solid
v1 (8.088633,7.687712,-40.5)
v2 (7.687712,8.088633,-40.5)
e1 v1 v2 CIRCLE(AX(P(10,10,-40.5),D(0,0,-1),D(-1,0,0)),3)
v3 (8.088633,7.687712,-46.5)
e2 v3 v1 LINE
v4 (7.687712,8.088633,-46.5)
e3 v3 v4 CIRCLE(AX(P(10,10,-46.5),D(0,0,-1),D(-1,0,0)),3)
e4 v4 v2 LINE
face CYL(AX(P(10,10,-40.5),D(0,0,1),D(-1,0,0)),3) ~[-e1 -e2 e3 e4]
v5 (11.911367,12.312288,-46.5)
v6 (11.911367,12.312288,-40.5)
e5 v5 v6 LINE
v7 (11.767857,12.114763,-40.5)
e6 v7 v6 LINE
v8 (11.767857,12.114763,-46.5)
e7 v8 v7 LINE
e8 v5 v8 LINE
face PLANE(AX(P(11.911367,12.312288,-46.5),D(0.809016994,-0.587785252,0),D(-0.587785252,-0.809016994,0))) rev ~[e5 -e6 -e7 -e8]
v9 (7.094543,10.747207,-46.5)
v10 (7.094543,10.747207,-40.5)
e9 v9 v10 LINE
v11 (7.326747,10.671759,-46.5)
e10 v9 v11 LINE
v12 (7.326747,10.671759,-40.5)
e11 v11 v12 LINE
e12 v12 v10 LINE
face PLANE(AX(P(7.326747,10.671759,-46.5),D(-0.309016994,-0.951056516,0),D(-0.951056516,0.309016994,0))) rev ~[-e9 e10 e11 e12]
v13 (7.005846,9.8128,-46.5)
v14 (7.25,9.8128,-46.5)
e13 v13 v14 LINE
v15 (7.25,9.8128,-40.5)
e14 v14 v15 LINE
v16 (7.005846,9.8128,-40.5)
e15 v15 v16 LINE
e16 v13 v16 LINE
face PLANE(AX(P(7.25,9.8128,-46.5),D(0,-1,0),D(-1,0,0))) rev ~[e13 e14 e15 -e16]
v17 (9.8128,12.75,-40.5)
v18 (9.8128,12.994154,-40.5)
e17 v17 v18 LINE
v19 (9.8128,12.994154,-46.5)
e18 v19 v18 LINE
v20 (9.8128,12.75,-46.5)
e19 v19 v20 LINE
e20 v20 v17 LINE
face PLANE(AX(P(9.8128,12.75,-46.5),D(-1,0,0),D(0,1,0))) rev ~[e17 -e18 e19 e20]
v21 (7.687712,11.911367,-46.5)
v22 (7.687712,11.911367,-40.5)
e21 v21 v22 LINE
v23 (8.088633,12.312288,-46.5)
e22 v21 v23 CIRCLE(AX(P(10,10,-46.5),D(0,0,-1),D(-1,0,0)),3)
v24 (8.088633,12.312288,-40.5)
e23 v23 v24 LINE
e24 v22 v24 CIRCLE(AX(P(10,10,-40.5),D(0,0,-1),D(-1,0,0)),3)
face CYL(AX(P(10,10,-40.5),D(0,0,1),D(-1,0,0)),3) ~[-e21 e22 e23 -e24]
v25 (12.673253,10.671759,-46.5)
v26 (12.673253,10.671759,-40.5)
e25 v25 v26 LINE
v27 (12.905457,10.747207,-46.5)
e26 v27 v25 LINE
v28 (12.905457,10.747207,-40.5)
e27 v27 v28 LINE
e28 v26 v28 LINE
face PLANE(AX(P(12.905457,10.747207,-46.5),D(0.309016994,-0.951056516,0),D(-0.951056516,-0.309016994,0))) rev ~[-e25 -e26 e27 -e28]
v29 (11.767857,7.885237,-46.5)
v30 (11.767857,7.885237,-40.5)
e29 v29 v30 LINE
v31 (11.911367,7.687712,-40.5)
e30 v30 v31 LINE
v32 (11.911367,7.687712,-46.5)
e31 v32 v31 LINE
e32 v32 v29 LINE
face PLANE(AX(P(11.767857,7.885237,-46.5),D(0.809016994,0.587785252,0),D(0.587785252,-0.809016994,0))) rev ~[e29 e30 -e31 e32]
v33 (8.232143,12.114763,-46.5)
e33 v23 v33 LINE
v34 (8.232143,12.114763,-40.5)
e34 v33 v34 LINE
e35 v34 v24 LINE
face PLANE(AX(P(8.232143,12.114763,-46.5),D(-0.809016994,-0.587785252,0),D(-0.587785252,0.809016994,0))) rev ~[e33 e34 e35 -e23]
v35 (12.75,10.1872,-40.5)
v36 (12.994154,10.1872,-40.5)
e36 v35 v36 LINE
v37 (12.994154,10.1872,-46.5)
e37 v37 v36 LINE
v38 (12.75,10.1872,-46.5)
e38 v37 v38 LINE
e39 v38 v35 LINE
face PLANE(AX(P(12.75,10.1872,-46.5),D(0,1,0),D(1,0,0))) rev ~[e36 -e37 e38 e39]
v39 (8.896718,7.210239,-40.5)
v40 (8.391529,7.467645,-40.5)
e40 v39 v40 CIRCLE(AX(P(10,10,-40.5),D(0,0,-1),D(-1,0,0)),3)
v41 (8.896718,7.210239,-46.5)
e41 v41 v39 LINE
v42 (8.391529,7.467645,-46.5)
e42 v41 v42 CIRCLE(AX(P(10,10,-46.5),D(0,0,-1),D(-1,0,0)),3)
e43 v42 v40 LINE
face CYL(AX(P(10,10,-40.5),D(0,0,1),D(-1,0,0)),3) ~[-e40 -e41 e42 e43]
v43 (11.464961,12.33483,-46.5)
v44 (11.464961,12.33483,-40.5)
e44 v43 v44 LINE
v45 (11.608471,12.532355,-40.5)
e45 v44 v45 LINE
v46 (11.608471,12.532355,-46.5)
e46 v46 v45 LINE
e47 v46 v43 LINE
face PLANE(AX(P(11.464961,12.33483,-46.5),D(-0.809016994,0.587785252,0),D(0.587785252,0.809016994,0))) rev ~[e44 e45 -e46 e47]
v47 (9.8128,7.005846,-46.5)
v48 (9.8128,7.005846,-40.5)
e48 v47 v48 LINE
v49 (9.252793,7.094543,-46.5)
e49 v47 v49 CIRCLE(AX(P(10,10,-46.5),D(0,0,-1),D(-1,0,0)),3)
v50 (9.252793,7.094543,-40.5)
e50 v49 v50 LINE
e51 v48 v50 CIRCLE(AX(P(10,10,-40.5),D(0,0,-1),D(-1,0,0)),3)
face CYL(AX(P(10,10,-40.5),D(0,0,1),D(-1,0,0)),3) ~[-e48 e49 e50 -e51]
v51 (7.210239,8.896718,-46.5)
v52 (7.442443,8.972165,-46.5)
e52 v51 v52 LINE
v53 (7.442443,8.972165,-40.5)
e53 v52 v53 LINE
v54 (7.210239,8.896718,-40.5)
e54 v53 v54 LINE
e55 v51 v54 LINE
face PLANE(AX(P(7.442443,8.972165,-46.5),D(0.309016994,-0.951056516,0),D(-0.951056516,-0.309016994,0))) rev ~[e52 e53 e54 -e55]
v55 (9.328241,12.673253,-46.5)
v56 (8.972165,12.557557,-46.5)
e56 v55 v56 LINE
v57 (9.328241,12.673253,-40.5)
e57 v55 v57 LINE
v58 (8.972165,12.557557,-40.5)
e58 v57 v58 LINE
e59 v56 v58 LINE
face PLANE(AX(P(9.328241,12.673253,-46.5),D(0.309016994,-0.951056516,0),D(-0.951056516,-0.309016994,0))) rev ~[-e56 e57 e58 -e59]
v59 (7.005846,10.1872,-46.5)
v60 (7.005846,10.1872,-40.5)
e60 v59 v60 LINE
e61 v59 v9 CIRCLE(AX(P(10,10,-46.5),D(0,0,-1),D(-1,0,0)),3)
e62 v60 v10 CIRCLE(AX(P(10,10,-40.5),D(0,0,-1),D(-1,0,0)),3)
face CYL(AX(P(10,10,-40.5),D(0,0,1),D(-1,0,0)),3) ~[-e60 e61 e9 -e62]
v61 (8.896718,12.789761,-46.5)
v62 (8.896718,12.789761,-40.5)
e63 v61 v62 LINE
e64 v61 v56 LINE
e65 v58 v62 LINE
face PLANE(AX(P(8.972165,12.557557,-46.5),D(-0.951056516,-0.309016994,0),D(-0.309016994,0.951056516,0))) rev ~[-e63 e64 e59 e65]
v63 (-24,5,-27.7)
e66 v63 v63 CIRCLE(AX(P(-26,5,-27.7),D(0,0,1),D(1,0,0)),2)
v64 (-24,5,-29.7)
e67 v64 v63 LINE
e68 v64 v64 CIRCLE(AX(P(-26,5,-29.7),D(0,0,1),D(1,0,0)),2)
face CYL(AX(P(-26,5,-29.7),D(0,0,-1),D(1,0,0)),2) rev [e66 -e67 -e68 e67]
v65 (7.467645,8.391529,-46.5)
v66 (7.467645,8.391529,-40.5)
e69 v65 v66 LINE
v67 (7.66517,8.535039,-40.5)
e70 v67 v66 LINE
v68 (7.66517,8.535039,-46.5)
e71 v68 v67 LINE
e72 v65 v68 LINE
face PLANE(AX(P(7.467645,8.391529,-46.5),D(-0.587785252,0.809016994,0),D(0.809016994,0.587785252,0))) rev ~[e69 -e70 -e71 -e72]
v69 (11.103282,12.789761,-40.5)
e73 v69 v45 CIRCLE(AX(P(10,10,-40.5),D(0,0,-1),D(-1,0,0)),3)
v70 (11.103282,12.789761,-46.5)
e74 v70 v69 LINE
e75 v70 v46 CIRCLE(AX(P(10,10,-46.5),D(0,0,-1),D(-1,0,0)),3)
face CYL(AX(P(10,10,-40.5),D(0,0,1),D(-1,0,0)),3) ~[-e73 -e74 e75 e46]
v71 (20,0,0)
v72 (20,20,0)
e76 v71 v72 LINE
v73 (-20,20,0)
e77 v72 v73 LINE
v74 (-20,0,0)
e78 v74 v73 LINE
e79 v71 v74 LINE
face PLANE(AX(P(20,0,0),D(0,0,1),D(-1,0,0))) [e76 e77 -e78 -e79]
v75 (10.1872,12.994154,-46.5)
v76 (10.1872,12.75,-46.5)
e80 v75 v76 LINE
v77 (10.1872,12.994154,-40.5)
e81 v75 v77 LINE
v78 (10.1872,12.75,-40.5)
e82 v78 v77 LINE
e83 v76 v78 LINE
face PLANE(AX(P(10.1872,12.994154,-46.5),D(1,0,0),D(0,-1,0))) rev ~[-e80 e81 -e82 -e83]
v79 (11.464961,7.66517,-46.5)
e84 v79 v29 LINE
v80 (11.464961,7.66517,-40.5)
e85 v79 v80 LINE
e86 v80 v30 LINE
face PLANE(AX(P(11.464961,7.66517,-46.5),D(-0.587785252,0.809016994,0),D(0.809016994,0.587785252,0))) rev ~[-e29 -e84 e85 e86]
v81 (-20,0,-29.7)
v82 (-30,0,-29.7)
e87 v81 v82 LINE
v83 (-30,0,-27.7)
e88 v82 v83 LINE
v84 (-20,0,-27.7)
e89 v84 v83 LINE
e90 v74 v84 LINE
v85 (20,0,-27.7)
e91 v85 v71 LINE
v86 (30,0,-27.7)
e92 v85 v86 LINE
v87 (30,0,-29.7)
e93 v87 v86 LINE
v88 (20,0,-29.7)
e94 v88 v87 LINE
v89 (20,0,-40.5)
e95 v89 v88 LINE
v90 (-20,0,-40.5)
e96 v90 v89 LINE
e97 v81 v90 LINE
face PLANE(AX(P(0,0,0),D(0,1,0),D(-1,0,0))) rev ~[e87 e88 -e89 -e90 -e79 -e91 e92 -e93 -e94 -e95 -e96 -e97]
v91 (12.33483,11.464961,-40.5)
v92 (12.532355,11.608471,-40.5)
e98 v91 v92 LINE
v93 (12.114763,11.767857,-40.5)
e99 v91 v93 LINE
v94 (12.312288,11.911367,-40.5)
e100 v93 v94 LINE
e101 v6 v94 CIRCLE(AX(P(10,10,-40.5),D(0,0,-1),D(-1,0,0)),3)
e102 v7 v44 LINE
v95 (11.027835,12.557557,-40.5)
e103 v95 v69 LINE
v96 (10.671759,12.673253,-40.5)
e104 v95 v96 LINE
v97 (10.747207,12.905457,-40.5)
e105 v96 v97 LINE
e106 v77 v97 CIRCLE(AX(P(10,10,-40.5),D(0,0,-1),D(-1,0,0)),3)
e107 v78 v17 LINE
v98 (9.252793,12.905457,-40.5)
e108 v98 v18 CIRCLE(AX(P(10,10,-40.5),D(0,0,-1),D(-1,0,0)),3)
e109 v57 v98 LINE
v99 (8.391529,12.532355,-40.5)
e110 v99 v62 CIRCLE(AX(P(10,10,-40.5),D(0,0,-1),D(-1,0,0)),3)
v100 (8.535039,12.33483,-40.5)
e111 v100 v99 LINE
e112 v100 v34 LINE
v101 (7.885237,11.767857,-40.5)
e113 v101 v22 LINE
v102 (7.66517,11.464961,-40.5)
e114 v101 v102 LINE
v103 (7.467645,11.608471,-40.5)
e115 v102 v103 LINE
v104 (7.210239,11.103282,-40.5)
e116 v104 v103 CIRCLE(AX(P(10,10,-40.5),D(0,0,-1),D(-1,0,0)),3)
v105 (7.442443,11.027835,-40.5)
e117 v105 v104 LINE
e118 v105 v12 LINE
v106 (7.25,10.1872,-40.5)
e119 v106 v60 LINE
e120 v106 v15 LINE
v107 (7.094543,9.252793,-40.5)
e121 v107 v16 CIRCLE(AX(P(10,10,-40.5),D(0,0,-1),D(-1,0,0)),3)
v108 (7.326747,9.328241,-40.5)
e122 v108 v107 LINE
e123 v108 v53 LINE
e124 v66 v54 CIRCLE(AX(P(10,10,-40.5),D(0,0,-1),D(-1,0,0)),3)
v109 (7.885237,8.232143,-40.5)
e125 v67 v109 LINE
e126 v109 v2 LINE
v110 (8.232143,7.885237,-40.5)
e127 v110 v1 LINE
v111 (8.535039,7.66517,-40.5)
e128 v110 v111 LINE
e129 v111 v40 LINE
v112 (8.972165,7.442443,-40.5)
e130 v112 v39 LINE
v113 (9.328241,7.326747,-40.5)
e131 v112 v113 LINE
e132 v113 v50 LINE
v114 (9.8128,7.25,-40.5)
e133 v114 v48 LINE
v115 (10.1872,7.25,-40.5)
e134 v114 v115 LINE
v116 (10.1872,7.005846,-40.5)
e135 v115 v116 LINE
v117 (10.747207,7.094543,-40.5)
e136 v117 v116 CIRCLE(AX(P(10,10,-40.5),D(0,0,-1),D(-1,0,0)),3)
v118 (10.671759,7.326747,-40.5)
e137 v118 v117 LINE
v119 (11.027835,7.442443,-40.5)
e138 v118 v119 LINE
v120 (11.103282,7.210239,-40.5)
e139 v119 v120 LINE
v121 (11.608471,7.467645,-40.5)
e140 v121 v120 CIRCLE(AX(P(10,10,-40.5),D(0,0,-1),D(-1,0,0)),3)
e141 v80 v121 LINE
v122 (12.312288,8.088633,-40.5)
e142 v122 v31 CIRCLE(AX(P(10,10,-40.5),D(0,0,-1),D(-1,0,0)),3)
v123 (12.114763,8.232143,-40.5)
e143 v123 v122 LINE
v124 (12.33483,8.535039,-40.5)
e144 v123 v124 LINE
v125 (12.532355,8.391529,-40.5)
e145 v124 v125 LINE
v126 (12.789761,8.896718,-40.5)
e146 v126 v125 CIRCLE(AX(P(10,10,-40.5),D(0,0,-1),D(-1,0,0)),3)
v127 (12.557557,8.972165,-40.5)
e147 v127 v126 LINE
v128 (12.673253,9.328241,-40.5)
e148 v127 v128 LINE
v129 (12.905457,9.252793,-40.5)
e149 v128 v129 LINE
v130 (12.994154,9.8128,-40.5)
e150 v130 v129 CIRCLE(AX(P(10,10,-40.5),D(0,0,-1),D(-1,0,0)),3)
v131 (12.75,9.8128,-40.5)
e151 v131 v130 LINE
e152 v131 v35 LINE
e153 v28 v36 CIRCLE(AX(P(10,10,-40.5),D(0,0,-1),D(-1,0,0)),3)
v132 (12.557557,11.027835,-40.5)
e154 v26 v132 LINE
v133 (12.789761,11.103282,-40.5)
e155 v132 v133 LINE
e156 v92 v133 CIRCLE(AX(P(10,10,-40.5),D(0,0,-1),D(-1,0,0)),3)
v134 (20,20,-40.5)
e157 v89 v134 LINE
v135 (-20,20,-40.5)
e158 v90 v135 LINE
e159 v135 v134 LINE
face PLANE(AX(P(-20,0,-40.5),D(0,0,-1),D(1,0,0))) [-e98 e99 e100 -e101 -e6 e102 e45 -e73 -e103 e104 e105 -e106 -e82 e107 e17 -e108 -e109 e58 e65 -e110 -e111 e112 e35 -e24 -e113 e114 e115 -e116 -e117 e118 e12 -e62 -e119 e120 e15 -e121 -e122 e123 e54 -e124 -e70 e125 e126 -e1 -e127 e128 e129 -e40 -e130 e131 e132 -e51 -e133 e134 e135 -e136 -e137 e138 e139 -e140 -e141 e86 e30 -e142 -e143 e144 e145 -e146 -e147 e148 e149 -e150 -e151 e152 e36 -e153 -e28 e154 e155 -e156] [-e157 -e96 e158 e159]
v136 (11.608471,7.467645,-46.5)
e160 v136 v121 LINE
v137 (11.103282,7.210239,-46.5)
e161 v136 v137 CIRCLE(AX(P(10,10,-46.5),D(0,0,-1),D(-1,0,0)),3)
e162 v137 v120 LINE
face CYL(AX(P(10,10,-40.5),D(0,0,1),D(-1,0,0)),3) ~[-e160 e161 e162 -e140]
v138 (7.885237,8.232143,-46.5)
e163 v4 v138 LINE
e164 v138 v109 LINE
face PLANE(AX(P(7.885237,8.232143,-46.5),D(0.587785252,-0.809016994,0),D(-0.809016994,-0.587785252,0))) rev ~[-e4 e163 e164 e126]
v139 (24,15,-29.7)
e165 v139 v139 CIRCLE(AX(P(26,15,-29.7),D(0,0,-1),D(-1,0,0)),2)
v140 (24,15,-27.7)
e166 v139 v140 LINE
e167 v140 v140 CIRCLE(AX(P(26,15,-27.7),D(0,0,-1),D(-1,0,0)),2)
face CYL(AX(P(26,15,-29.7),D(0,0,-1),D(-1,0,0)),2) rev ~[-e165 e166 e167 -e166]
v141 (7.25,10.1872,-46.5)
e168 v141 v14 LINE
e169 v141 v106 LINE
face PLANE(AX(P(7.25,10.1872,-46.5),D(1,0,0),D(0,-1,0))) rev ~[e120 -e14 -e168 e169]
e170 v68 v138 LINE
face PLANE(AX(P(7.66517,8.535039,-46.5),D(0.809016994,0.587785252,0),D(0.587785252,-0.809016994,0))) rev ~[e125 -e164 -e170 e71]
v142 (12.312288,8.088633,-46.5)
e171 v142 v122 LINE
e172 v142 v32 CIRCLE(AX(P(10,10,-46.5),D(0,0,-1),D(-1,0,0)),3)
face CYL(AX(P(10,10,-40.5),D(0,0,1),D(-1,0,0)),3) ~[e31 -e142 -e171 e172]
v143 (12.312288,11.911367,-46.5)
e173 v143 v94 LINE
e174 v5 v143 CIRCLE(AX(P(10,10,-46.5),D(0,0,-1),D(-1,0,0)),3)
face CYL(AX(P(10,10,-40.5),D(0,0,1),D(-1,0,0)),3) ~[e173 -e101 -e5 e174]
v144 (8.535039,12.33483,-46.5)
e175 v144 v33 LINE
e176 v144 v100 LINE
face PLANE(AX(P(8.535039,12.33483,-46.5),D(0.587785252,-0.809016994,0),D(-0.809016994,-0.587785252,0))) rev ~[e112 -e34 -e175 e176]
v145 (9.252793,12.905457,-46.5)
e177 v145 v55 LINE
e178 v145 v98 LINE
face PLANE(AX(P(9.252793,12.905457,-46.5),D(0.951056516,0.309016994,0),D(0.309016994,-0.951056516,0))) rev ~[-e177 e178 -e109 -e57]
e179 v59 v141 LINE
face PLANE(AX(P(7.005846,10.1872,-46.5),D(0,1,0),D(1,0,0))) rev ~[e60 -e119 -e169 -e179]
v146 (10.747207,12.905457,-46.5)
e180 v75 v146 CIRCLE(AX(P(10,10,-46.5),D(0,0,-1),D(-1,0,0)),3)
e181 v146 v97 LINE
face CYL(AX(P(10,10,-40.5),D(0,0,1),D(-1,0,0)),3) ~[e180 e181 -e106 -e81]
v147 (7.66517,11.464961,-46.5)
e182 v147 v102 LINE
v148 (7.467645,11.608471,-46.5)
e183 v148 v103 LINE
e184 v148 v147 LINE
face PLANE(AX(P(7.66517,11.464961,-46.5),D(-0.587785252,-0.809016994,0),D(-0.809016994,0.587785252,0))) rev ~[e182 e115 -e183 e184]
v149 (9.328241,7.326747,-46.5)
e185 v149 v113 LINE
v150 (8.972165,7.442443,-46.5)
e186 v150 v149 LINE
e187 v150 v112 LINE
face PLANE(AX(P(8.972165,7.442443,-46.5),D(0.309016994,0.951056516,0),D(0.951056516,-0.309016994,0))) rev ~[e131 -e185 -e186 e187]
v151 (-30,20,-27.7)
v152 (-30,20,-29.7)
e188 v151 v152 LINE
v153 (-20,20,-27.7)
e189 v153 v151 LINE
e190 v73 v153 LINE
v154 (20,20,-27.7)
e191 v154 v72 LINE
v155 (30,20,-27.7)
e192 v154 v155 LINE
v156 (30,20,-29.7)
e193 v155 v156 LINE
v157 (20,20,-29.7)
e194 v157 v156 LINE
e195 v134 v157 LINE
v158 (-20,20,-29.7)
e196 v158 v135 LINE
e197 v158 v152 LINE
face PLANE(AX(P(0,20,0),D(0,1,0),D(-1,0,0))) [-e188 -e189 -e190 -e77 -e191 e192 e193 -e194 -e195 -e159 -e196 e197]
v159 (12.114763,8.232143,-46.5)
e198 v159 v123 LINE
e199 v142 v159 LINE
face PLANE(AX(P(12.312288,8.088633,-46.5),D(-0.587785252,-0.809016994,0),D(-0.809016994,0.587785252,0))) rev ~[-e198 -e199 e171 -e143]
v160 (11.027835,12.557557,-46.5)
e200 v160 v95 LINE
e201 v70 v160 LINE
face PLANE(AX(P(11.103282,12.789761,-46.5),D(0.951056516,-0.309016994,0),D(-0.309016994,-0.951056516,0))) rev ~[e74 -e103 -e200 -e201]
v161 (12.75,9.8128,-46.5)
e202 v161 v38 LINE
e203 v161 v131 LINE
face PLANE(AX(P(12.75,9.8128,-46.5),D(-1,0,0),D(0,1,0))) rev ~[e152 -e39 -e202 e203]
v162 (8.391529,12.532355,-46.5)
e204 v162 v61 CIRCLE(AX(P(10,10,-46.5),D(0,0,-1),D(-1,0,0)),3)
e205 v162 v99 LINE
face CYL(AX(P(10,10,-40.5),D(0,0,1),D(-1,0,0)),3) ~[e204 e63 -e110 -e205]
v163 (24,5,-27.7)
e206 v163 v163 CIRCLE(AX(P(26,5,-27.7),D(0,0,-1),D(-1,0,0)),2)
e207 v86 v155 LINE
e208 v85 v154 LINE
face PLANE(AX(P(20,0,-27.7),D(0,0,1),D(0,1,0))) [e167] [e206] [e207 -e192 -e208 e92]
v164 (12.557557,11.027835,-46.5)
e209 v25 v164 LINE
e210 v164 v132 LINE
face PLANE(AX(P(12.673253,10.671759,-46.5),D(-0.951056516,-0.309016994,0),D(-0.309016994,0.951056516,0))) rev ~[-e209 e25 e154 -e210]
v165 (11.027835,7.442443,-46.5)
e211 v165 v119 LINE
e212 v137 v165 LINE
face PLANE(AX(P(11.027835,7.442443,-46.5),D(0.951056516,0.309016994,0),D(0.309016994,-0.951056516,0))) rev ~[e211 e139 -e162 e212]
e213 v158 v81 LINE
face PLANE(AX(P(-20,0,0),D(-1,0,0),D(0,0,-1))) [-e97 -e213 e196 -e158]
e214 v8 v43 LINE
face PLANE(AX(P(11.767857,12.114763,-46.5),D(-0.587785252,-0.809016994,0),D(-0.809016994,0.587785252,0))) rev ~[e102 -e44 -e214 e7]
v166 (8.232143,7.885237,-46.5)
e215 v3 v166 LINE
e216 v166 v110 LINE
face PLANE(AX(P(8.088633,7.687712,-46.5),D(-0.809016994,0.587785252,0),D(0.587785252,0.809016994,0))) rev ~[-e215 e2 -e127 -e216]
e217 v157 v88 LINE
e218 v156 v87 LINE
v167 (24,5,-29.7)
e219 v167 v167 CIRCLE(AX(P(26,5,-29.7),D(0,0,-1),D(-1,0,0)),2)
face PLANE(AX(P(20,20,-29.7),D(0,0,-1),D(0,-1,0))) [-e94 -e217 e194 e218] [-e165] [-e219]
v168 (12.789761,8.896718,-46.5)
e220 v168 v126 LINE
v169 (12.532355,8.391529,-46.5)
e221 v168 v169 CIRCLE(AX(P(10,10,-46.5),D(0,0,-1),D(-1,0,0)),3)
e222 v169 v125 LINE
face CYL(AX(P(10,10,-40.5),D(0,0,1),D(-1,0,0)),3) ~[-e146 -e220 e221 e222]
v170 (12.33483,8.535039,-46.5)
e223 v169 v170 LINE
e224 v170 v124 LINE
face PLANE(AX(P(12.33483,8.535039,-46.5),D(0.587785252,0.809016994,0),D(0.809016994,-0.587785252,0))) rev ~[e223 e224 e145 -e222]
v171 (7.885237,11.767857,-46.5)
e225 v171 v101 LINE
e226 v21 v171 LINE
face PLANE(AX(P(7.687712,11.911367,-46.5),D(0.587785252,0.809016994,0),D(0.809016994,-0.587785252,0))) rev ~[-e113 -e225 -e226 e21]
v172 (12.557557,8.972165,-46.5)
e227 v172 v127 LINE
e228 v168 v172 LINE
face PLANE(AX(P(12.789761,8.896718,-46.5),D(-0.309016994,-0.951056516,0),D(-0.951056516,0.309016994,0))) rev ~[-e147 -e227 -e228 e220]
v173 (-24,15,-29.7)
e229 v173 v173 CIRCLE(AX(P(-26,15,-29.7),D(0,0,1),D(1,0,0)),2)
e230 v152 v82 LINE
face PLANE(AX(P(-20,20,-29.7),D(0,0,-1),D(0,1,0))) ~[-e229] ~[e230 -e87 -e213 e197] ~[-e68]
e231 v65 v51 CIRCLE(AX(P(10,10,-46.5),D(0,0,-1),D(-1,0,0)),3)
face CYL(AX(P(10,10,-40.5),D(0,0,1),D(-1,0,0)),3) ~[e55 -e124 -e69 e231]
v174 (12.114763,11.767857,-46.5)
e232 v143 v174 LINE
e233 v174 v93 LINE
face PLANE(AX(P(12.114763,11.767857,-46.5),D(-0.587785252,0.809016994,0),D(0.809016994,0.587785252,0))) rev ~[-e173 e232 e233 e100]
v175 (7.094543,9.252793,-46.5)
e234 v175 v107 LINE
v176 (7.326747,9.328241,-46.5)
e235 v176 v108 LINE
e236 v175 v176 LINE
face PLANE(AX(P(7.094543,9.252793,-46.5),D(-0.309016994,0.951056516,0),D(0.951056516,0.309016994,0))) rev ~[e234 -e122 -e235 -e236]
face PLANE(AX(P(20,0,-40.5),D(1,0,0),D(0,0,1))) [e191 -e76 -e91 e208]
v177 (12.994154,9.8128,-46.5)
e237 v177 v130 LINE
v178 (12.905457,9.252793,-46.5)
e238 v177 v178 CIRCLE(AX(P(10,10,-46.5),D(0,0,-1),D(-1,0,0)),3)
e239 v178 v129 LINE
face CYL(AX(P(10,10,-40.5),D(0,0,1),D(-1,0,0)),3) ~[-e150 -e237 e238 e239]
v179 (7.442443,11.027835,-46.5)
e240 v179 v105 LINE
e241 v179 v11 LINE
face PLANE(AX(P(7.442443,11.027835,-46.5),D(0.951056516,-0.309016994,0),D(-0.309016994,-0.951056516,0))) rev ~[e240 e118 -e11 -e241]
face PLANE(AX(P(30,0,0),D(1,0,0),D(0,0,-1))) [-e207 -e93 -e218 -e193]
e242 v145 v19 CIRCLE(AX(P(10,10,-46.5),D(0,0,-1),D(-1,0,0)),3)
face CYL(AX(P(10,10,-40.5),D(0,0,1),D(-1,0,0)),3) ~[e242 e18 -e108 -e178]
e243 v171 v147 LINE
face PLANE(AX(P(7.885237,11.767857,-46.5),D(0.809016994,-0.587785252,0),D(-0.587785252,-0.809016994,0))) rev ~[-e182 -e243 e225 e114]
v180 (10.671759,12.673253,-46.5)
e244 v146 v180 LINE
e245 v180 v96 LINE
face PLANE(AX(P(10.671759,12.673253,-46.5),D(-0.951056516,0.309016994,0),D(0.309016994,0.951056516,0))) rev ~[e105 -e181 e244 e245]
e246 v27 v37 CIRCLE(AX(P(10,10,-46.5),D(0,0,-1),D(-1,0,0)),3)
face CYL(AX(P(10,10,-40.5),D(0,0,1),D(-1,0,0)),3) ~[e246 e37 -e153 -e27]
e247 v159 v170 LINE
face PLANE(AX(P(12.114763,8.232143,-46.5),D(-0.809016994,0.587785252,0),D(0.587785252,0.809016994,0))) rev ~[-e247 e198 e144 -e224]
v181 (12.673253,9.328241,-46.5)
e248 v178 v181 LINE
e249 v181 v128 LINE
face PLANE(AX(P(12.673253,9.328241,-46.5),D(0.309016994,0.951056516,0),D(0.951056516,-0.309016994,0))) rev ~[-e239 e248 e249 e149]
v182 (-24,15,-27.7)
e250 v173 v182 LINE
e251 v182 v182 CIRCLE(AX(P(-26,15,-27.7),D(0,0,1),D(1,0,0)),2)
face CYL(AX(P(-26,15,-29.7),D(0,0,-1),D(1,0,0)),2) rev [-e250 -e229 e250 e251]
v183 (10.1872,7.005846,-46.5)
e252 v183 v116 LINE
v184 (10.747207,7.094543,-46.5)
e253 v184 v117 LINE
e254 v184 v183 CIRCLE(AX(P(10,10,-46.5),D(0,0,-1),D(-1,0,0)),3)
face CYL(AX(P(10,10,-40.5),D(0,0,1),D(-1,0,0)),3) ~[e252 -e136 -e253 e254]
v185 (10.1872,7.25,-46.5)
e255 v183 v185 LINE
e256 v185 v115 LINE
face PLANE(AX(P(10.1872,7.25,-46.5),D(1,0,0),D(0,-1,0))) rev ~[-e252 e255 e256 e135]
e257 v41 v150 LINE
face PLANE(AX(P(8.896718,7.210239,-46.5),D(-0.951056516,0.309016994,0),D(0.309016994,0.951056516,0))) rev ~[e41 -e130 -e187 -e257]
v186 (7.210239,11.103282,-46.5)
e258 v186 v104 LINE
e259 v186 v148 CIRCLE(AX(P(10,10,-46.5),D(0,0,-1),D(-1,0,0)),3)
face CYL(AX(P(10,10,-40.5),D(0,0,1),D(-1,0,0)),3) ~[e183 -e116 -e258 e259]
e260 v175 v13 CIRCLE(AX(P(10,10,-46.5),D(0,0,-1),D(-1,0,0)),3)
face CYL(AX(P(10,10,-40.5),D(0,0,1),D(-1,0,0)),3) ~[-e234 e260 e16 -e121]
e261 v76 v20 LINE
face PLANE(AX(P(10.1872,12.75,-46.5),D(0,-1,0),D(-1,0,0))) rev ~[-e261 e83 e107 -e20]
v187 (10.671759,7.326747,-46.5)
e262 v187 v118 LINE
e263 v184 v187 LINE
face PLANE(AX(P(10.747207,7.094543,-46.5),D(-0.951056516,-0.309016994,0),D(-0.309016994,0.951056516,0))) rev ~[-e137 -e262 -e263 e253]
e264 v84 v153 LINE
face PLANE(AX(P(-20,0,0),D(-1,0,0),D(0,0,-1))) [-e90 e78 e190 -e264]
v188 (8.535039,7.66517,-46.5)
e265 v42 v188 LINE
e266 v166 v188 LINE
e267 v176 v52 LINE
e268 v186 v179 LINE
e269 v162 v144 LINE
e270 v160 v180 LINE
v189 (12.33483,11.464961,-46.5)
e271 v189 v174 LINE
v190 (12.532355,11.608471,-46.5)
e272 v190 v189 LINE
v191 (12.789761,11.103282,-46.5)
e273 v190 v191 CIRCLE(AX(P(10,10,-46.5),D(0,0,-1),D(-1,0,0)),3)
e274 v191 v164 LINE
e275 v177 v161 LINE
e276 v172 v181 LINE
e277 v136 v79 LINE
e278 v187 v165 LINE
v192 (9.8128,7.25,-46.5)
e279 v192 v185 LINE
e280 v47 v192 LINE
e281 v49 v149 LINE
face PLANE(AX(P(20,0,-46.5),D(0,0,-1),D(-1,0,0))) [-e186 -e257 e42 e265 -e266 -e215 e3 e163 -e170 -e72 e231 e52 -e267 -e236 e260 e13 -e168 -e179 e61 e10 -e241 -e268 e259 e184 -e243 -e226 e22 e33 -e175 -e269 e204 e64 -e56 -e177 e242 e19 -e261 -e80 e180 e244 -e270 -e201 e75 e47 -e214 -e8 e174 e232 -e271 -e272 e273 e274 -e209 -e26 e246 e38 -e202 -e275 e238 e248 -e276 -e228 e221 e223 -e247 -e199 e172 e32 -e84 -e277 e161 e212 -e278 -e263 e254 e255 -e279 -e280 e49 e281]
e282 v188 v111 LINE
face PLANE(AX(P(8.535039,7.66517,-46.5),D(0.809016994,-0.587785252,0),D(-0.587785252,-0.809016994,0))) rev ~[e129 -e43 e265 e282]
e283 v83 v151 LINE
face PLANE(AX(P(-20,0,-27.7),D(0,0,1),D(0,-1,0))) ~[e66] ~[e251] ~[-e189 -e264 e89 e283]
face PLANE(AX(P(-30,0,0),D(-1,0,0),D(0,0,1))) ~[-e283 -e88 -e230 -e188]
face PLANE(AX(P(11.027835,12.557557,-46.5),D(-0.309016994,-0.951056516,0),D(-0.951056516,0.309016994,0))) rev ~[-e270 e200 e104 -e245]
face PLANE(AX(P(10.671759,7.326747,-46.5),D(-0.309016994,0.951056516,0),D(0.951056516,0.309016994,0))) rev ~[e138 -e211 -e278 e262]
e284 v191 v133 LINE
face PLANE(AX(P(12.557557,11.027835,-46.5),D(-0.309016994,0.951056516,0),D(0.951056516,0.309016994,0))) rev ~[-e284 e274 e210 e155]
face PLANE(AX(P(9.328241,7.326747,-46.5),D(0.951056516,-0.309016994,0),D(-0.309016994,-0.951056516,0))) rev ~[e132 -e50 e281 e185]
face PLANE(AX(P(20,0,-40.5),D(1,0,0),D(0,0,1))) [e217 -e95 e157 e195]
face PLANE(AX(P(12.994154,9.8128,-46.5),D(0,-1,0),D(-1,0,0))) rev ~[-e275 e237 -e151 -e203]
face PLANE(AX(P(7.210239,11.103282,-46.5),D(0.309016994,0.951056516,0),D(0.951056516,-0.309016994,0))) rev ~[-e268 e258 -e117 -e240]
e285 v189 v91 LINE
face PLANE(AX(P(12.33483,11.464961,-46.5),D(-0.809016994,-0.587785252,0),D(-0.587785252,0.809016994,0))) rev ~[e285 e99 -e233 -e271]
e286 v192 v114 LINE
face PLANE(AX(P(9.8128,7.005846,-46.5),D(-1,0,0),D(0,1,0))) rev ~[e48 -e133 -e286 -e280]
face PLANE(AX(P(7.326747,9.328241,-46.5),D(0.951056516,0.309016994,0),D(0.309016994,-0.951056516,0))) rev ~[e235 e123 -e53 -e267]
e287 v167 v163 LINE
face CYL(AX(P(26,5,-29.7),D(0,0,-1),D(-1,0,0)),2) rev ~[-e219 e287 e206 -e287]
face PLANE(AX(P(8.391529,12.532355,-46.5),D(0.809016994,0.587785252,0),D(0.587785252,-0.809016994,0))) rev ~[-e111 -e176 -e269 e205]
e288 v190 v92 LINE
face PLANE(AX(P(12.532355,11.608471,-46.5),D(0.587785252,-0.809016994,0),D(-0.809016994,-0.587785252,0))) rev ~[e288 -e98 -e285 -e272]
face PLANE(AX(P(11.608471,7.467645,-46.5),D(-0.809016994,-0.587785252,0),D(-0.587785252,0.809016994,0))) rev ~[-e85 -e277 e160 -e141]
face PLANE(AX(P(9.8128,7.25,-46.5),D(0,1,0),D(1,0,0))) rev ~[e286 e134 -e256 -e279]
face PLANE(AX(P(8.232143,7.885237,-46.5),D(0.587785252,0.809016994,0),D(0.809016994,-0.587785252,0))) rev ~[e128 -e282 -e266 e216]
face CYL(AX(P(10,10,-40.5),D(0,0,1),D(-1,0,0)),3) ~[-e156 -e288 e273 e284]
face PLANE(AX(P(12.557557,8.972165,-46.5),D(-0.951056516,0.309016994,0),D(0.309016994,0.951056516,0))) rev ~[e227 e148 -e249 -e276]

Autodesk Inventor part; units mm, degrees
ref_plane "YZ Plane" through (0, 0, 0) normal (1, 0, 0) x (0, 1, 0)
ref_plane "XZ Plane" through (0, 0, 0) normal (0, 1, 0) x (-1, 0, 0)
ref_plane "XY Plane" through (0, 0, 0) normal (0, 0, 1) x (1, 0, 0)
sketch "Sketch1" plane through (0, 0, 0) normal (0, 1, 0) x (-1, 0, 0)
  line L0 (-20, 0) -> (20, 0)
  line L1 (20, 0) -> (20, -40.5)
  line L2 (20, -40.5) -> (-20, -40.5)
  line L3 (-20, -40.5) -> (-20, 0)
  point P0 (0, 0)
  point P1 (0, -40.5)
  dimension "d0" = 40
  dimension "d1" = 40.5
extrude "Extrusion1" add sketch "Sketch1" along normal blind 20
sketch "Sketch2" plane through (20, 0, 0) normal (1, 0, 0) x (0, 0, -1)
  line L0 (27.7, 20) -> (29.7, 20)
  line L1 (29.7, 20) -> (29.7, 0)
  line L2 (29.7, 0) -> (27.7, 0)
  line L3 (27.7, 0) -> (27.7, 20)
  line L4 (40.5, 0) -> (40.5, 20) projected
  line L5 (0, 0) -> (0, 20) projected
  dimension "d4" = 2
  dimension "d31" = 27.7
extrude "Extrusion2" add sketch "Sketch2" along normal blind 10
sketch "Sketch3" plane through (20, 0, -29.7) normal (0, 0, -1) x (-1, 0, 0)
  circle A0 centre (-6, 15) radius 2
  line L0 (-10, 20) -> (-10, 0) projected
  line L1 (-10, 10) -> (0, 10)
  circle A1 centre (-6, 5) radius 2
  point P0 (20, 0)
  point P1 (-10, 5)
  point P2 (-8, 3.2679)
  dimension "d9" = 4
  dimension "d13" = 5
  dimension "d32" = 4
extrude "Extrusion3" cut sketch "Sketch3" against normal up to next
sketch "Sketch4" plane through (20, 0, -40.5) normal (0, 0, -1) x (-1, 0, 0)
  circle A0 centre (10, 10) radius 3
  line L0 (0, 0) -> (0, 20) projected
  line L1 (0, 20) -> (40, 20) projected
  point P0 (20, 0)
  dimension "d16" = 6
  dimension "d17" = 10
  dimension "d18" = 10
extrude "Extrusion4" add sketch "Sketch4" along normal blind 6
sketch "Sketch5" plane through (10, 10, -46.5) normal (0, 0, -1) x (-1, 0, 0)
  circle A0 centre (0, 0) radius 3 projected
  line L0 (2.75, -0.1872) -> (3.25, -0.1872)
  line L1 (3.25, -0.1872) -> (3.25, 0.1872)
  line L2 (3.25, 0.1872) -> (2.75, 0.1872)
  line L3 (2.75, 0.1872) -> (2.75, -0.1872)
  line L4 (2.75, -0.1872) -> (3.25, 0.1872) construction
  line L5 (3.25, -0.1872) -> (2.75, 0.1872) construction
  line L6 (2.5575, 1.0279) -> (2.6733, 0.6717)
  line L7 (3.0331, 1.1824) -> (2.5575, 1.0279)
  line L8 (3.1488, 0.8262) -> (3.0331, 1.1824)
  line L9 (2.6733, 0.6717) -> (3.1488, 0.8262)
  line L10 (2.1147, 1.7679) -> (2.3348, 1.4649)
  line L11 (2.5193, 2.0618) -> (2.1147, 1.7679)
  line L12 (2.7394, 1.7588) -> (2.5193, 2.0618)
  line L13 (2.3348, 1.4649) -> (2.7394, 1.7588)
  line L14 (1.4649, 2.3348) -> (1.7679, 2.1147)
  line L15 (1.7588, 2.7394) -> (1.4649, 2.3348)
  line L16 (2.0618, 2.5193) -> (1.7588, 2.7394)
  line L17 (1.7679, 2.1147) -> (2.0618, 2.5193)
  line L18 (0.6717, 2.6733) -> (1.0279, 2.5575)
  line L19 (0.8262, 3.1488) -> (0.6717, 2.6733)
  line L20 (1.1824, 3.0331) -> (0.8262, 3.1488)
  line L21 (1.0279, 2.5575) -> (1.1824, 3.0331)
  line L22 (-0.1872, 2.75) -> (0.1872, 2.75)
  line L23 (-0.1872, 3.25) -> (-0.1872, 2.75)
  line L24 (0.1872, 3.25) -> (-0.1872, 3.25)
  line L25 (0.1872, 2.75) -> (0.1872, 3.25)
  line L26 (-1.0279, 2.5575) -> (-0.6717, 2.6733)
  line L27 (-1.1824, 3.0331) -> (-1.0279, 2.5575)
  line L28 (-0.8262, 3.1488) -> (-1.1824, 3.0331)
  line L29 (-0.6717, 2.6733) -> (-0.8262, 3.1488)
  line L30 (-1.7679, 2.1147) -> (-1.4649, 2.3348)
  line L31 (-2.0618, 2.5193) -> (-1.7679, 2.1147)
  line L32 (-1.7588, 2.7394) -> (-2.0618, 2.5193)
  line L33 (-1.4649, 2.3348) -> (-1.7588, 2.7394)
  line L34 (-2.3348, 1.4649) -> (-2.1147, 1.7679)
  line L35 (-2.7394, 1.7588) -> (-2.3348, 1.4649)
  line L36 (-2.5193, 2.0618) -> (-2.7394, 1.7588)
  line L37 (-2.1147, 1.7679) -> (-2.5193, 2.0618)
  line L38 (-2.6733, 0.6717) -> (-2.5575, 1.0279)
  line L39 (-3.1488, 0.8262) -> (-2.6733, 0.6717)
  line L40 (-3.0331, 1.1824) -> (-3.1488, 0.8262)
  line L41 (-2.5575, 1.0279) -> (-3.0331, 1.1824)
  line L42 (-2.75, -0.1872) -> (-2.75, 0.1872)
  line L43 (-3.25, -0.1872) -> (-2.75, -0.1872)
  line L44 (-3.25, 0.1872) -> (-3.25, -0.1872)
  line L45 (-2.75, 0.1872) -> (-3.25, 0.1872)
  line L46 (-2.5575, -1.0279) -> (-2.6733, -0.6717)
  line L47 (-3.0331, -1.1824) -> (-2.5575, -1.0279)
  line L48 (-3.1488, -0.8262) -> (-3.0331, -1.1824)
  line L49 (-2.6733, -0.6717) -> (-3.1488, -0.8262)
  line L50 (-2.1147, -1.7679) -> (-2.3348, -1.4649)
  line L51 (-2.5193, -2.0618) -> (-2.1147, -1.7679)
  line L52 (-2.7394, -1.7588) -> (-2.5193, -2.0618)
  line L53 (-2.3348, -1.4649) -> (-2.7394, -1.7588)
  line L54 (-1.4649, -2.3348) -> (-1.7679, -2.1147)
  line L55 (-1.7588, -2.7394) -> (-1.4649, -2.3348)
  line L56 (-2.0618, -2.5193) -> (-1.7588, -2.7394)
  line L57 (-1.7679, -2.1147) -> (-2.0618, -2.5193)
  line L58 (-0.6717, -2.6733) -> (-1.0279, -2.5575)
  line L59 (-0.8262, -3.1488) -> (-0.6717, -2.6733)
  line L60 (-1.1824, -3.0331) -> (-0.8262, -3.1488)
  line L61 (-1.0279, -2.5575) -> (-1.1824, -3.0331)
  line L62 (0.1872, -2.75) -> (-0.1872, -2.75)
  line L63 (0.1872, -3.25) -> (0.1872, -2.75)
  line L64 (-0.1872, -3.25) -> (0.1872, -3.25)
  line L65 (-0.1872, -2.75) -> (-0.1872, -3.25)
  line L66 (1.0279, -2.5575) -> (0.6717, -2.6733)
  line L67 (1.1824, -3.0331) -> (1.0279, -2.5575)
  line L68 (0.8262, -3.1488) -> (1.1824, -3.0331)
  line L69 (0.6717, -2.6733) -> (0.8262, -3.1488)
  line L70 (1.7679, -2.1147) -> (1.4649, -2.3348)
  line L71 (2.0618, -2.5193) -> (1.7679, -2.1147)
  line L72 (1.7588, -2.7394) -> (2.0618, -2.5193)
  line L73 (1.4649, -2.3348) -> (1.7588, -2.7394)
  line L74 (2.3348, -1.4649) -> (2.1147, -1.7679)
  line L75 (2.7394, -1.7588) -> (2.3348, -1.4649)
  line L76 (2.5193, -2.0618) -> (2.7394, -1.7588)
  line L77 (2.1147, -1.7679) -> (2.5193, -2.0618)
  line L78 (2.6733, -0.6717) -> (2.5575, -1.0279)
  line L79 (3.1488, -0.8262) -> (2.6733, -0.6717)
  line L80 (3.0331, -1.1824) -> (3.1488, -0.8262)
  line L81 (2.5575, -1.0279) -> (3.0331, -1.1824)
  point P0 (10, -10)
  point P1 (3, 0)
  dimension "d21" = 0.5
  dimension "d24" = 360
extrude "Extrusion5" cut sketch "Sketch5" against normal up to surface (6 mm away) contours A0 L0 L3 L2 | A0 L2 L1 L0
pattern_circular "Circular Pattern1" count 20 over 360 about axis through (10, 10, -46.5) along (0, 0, -1) of "Extrusion5"
mirror "Mirror1" about plane through (0, 0, 0) normal (1, 0, 0) of "Extrusion2", "Extrusion3"
properties part number "Servo" material "PLA"
